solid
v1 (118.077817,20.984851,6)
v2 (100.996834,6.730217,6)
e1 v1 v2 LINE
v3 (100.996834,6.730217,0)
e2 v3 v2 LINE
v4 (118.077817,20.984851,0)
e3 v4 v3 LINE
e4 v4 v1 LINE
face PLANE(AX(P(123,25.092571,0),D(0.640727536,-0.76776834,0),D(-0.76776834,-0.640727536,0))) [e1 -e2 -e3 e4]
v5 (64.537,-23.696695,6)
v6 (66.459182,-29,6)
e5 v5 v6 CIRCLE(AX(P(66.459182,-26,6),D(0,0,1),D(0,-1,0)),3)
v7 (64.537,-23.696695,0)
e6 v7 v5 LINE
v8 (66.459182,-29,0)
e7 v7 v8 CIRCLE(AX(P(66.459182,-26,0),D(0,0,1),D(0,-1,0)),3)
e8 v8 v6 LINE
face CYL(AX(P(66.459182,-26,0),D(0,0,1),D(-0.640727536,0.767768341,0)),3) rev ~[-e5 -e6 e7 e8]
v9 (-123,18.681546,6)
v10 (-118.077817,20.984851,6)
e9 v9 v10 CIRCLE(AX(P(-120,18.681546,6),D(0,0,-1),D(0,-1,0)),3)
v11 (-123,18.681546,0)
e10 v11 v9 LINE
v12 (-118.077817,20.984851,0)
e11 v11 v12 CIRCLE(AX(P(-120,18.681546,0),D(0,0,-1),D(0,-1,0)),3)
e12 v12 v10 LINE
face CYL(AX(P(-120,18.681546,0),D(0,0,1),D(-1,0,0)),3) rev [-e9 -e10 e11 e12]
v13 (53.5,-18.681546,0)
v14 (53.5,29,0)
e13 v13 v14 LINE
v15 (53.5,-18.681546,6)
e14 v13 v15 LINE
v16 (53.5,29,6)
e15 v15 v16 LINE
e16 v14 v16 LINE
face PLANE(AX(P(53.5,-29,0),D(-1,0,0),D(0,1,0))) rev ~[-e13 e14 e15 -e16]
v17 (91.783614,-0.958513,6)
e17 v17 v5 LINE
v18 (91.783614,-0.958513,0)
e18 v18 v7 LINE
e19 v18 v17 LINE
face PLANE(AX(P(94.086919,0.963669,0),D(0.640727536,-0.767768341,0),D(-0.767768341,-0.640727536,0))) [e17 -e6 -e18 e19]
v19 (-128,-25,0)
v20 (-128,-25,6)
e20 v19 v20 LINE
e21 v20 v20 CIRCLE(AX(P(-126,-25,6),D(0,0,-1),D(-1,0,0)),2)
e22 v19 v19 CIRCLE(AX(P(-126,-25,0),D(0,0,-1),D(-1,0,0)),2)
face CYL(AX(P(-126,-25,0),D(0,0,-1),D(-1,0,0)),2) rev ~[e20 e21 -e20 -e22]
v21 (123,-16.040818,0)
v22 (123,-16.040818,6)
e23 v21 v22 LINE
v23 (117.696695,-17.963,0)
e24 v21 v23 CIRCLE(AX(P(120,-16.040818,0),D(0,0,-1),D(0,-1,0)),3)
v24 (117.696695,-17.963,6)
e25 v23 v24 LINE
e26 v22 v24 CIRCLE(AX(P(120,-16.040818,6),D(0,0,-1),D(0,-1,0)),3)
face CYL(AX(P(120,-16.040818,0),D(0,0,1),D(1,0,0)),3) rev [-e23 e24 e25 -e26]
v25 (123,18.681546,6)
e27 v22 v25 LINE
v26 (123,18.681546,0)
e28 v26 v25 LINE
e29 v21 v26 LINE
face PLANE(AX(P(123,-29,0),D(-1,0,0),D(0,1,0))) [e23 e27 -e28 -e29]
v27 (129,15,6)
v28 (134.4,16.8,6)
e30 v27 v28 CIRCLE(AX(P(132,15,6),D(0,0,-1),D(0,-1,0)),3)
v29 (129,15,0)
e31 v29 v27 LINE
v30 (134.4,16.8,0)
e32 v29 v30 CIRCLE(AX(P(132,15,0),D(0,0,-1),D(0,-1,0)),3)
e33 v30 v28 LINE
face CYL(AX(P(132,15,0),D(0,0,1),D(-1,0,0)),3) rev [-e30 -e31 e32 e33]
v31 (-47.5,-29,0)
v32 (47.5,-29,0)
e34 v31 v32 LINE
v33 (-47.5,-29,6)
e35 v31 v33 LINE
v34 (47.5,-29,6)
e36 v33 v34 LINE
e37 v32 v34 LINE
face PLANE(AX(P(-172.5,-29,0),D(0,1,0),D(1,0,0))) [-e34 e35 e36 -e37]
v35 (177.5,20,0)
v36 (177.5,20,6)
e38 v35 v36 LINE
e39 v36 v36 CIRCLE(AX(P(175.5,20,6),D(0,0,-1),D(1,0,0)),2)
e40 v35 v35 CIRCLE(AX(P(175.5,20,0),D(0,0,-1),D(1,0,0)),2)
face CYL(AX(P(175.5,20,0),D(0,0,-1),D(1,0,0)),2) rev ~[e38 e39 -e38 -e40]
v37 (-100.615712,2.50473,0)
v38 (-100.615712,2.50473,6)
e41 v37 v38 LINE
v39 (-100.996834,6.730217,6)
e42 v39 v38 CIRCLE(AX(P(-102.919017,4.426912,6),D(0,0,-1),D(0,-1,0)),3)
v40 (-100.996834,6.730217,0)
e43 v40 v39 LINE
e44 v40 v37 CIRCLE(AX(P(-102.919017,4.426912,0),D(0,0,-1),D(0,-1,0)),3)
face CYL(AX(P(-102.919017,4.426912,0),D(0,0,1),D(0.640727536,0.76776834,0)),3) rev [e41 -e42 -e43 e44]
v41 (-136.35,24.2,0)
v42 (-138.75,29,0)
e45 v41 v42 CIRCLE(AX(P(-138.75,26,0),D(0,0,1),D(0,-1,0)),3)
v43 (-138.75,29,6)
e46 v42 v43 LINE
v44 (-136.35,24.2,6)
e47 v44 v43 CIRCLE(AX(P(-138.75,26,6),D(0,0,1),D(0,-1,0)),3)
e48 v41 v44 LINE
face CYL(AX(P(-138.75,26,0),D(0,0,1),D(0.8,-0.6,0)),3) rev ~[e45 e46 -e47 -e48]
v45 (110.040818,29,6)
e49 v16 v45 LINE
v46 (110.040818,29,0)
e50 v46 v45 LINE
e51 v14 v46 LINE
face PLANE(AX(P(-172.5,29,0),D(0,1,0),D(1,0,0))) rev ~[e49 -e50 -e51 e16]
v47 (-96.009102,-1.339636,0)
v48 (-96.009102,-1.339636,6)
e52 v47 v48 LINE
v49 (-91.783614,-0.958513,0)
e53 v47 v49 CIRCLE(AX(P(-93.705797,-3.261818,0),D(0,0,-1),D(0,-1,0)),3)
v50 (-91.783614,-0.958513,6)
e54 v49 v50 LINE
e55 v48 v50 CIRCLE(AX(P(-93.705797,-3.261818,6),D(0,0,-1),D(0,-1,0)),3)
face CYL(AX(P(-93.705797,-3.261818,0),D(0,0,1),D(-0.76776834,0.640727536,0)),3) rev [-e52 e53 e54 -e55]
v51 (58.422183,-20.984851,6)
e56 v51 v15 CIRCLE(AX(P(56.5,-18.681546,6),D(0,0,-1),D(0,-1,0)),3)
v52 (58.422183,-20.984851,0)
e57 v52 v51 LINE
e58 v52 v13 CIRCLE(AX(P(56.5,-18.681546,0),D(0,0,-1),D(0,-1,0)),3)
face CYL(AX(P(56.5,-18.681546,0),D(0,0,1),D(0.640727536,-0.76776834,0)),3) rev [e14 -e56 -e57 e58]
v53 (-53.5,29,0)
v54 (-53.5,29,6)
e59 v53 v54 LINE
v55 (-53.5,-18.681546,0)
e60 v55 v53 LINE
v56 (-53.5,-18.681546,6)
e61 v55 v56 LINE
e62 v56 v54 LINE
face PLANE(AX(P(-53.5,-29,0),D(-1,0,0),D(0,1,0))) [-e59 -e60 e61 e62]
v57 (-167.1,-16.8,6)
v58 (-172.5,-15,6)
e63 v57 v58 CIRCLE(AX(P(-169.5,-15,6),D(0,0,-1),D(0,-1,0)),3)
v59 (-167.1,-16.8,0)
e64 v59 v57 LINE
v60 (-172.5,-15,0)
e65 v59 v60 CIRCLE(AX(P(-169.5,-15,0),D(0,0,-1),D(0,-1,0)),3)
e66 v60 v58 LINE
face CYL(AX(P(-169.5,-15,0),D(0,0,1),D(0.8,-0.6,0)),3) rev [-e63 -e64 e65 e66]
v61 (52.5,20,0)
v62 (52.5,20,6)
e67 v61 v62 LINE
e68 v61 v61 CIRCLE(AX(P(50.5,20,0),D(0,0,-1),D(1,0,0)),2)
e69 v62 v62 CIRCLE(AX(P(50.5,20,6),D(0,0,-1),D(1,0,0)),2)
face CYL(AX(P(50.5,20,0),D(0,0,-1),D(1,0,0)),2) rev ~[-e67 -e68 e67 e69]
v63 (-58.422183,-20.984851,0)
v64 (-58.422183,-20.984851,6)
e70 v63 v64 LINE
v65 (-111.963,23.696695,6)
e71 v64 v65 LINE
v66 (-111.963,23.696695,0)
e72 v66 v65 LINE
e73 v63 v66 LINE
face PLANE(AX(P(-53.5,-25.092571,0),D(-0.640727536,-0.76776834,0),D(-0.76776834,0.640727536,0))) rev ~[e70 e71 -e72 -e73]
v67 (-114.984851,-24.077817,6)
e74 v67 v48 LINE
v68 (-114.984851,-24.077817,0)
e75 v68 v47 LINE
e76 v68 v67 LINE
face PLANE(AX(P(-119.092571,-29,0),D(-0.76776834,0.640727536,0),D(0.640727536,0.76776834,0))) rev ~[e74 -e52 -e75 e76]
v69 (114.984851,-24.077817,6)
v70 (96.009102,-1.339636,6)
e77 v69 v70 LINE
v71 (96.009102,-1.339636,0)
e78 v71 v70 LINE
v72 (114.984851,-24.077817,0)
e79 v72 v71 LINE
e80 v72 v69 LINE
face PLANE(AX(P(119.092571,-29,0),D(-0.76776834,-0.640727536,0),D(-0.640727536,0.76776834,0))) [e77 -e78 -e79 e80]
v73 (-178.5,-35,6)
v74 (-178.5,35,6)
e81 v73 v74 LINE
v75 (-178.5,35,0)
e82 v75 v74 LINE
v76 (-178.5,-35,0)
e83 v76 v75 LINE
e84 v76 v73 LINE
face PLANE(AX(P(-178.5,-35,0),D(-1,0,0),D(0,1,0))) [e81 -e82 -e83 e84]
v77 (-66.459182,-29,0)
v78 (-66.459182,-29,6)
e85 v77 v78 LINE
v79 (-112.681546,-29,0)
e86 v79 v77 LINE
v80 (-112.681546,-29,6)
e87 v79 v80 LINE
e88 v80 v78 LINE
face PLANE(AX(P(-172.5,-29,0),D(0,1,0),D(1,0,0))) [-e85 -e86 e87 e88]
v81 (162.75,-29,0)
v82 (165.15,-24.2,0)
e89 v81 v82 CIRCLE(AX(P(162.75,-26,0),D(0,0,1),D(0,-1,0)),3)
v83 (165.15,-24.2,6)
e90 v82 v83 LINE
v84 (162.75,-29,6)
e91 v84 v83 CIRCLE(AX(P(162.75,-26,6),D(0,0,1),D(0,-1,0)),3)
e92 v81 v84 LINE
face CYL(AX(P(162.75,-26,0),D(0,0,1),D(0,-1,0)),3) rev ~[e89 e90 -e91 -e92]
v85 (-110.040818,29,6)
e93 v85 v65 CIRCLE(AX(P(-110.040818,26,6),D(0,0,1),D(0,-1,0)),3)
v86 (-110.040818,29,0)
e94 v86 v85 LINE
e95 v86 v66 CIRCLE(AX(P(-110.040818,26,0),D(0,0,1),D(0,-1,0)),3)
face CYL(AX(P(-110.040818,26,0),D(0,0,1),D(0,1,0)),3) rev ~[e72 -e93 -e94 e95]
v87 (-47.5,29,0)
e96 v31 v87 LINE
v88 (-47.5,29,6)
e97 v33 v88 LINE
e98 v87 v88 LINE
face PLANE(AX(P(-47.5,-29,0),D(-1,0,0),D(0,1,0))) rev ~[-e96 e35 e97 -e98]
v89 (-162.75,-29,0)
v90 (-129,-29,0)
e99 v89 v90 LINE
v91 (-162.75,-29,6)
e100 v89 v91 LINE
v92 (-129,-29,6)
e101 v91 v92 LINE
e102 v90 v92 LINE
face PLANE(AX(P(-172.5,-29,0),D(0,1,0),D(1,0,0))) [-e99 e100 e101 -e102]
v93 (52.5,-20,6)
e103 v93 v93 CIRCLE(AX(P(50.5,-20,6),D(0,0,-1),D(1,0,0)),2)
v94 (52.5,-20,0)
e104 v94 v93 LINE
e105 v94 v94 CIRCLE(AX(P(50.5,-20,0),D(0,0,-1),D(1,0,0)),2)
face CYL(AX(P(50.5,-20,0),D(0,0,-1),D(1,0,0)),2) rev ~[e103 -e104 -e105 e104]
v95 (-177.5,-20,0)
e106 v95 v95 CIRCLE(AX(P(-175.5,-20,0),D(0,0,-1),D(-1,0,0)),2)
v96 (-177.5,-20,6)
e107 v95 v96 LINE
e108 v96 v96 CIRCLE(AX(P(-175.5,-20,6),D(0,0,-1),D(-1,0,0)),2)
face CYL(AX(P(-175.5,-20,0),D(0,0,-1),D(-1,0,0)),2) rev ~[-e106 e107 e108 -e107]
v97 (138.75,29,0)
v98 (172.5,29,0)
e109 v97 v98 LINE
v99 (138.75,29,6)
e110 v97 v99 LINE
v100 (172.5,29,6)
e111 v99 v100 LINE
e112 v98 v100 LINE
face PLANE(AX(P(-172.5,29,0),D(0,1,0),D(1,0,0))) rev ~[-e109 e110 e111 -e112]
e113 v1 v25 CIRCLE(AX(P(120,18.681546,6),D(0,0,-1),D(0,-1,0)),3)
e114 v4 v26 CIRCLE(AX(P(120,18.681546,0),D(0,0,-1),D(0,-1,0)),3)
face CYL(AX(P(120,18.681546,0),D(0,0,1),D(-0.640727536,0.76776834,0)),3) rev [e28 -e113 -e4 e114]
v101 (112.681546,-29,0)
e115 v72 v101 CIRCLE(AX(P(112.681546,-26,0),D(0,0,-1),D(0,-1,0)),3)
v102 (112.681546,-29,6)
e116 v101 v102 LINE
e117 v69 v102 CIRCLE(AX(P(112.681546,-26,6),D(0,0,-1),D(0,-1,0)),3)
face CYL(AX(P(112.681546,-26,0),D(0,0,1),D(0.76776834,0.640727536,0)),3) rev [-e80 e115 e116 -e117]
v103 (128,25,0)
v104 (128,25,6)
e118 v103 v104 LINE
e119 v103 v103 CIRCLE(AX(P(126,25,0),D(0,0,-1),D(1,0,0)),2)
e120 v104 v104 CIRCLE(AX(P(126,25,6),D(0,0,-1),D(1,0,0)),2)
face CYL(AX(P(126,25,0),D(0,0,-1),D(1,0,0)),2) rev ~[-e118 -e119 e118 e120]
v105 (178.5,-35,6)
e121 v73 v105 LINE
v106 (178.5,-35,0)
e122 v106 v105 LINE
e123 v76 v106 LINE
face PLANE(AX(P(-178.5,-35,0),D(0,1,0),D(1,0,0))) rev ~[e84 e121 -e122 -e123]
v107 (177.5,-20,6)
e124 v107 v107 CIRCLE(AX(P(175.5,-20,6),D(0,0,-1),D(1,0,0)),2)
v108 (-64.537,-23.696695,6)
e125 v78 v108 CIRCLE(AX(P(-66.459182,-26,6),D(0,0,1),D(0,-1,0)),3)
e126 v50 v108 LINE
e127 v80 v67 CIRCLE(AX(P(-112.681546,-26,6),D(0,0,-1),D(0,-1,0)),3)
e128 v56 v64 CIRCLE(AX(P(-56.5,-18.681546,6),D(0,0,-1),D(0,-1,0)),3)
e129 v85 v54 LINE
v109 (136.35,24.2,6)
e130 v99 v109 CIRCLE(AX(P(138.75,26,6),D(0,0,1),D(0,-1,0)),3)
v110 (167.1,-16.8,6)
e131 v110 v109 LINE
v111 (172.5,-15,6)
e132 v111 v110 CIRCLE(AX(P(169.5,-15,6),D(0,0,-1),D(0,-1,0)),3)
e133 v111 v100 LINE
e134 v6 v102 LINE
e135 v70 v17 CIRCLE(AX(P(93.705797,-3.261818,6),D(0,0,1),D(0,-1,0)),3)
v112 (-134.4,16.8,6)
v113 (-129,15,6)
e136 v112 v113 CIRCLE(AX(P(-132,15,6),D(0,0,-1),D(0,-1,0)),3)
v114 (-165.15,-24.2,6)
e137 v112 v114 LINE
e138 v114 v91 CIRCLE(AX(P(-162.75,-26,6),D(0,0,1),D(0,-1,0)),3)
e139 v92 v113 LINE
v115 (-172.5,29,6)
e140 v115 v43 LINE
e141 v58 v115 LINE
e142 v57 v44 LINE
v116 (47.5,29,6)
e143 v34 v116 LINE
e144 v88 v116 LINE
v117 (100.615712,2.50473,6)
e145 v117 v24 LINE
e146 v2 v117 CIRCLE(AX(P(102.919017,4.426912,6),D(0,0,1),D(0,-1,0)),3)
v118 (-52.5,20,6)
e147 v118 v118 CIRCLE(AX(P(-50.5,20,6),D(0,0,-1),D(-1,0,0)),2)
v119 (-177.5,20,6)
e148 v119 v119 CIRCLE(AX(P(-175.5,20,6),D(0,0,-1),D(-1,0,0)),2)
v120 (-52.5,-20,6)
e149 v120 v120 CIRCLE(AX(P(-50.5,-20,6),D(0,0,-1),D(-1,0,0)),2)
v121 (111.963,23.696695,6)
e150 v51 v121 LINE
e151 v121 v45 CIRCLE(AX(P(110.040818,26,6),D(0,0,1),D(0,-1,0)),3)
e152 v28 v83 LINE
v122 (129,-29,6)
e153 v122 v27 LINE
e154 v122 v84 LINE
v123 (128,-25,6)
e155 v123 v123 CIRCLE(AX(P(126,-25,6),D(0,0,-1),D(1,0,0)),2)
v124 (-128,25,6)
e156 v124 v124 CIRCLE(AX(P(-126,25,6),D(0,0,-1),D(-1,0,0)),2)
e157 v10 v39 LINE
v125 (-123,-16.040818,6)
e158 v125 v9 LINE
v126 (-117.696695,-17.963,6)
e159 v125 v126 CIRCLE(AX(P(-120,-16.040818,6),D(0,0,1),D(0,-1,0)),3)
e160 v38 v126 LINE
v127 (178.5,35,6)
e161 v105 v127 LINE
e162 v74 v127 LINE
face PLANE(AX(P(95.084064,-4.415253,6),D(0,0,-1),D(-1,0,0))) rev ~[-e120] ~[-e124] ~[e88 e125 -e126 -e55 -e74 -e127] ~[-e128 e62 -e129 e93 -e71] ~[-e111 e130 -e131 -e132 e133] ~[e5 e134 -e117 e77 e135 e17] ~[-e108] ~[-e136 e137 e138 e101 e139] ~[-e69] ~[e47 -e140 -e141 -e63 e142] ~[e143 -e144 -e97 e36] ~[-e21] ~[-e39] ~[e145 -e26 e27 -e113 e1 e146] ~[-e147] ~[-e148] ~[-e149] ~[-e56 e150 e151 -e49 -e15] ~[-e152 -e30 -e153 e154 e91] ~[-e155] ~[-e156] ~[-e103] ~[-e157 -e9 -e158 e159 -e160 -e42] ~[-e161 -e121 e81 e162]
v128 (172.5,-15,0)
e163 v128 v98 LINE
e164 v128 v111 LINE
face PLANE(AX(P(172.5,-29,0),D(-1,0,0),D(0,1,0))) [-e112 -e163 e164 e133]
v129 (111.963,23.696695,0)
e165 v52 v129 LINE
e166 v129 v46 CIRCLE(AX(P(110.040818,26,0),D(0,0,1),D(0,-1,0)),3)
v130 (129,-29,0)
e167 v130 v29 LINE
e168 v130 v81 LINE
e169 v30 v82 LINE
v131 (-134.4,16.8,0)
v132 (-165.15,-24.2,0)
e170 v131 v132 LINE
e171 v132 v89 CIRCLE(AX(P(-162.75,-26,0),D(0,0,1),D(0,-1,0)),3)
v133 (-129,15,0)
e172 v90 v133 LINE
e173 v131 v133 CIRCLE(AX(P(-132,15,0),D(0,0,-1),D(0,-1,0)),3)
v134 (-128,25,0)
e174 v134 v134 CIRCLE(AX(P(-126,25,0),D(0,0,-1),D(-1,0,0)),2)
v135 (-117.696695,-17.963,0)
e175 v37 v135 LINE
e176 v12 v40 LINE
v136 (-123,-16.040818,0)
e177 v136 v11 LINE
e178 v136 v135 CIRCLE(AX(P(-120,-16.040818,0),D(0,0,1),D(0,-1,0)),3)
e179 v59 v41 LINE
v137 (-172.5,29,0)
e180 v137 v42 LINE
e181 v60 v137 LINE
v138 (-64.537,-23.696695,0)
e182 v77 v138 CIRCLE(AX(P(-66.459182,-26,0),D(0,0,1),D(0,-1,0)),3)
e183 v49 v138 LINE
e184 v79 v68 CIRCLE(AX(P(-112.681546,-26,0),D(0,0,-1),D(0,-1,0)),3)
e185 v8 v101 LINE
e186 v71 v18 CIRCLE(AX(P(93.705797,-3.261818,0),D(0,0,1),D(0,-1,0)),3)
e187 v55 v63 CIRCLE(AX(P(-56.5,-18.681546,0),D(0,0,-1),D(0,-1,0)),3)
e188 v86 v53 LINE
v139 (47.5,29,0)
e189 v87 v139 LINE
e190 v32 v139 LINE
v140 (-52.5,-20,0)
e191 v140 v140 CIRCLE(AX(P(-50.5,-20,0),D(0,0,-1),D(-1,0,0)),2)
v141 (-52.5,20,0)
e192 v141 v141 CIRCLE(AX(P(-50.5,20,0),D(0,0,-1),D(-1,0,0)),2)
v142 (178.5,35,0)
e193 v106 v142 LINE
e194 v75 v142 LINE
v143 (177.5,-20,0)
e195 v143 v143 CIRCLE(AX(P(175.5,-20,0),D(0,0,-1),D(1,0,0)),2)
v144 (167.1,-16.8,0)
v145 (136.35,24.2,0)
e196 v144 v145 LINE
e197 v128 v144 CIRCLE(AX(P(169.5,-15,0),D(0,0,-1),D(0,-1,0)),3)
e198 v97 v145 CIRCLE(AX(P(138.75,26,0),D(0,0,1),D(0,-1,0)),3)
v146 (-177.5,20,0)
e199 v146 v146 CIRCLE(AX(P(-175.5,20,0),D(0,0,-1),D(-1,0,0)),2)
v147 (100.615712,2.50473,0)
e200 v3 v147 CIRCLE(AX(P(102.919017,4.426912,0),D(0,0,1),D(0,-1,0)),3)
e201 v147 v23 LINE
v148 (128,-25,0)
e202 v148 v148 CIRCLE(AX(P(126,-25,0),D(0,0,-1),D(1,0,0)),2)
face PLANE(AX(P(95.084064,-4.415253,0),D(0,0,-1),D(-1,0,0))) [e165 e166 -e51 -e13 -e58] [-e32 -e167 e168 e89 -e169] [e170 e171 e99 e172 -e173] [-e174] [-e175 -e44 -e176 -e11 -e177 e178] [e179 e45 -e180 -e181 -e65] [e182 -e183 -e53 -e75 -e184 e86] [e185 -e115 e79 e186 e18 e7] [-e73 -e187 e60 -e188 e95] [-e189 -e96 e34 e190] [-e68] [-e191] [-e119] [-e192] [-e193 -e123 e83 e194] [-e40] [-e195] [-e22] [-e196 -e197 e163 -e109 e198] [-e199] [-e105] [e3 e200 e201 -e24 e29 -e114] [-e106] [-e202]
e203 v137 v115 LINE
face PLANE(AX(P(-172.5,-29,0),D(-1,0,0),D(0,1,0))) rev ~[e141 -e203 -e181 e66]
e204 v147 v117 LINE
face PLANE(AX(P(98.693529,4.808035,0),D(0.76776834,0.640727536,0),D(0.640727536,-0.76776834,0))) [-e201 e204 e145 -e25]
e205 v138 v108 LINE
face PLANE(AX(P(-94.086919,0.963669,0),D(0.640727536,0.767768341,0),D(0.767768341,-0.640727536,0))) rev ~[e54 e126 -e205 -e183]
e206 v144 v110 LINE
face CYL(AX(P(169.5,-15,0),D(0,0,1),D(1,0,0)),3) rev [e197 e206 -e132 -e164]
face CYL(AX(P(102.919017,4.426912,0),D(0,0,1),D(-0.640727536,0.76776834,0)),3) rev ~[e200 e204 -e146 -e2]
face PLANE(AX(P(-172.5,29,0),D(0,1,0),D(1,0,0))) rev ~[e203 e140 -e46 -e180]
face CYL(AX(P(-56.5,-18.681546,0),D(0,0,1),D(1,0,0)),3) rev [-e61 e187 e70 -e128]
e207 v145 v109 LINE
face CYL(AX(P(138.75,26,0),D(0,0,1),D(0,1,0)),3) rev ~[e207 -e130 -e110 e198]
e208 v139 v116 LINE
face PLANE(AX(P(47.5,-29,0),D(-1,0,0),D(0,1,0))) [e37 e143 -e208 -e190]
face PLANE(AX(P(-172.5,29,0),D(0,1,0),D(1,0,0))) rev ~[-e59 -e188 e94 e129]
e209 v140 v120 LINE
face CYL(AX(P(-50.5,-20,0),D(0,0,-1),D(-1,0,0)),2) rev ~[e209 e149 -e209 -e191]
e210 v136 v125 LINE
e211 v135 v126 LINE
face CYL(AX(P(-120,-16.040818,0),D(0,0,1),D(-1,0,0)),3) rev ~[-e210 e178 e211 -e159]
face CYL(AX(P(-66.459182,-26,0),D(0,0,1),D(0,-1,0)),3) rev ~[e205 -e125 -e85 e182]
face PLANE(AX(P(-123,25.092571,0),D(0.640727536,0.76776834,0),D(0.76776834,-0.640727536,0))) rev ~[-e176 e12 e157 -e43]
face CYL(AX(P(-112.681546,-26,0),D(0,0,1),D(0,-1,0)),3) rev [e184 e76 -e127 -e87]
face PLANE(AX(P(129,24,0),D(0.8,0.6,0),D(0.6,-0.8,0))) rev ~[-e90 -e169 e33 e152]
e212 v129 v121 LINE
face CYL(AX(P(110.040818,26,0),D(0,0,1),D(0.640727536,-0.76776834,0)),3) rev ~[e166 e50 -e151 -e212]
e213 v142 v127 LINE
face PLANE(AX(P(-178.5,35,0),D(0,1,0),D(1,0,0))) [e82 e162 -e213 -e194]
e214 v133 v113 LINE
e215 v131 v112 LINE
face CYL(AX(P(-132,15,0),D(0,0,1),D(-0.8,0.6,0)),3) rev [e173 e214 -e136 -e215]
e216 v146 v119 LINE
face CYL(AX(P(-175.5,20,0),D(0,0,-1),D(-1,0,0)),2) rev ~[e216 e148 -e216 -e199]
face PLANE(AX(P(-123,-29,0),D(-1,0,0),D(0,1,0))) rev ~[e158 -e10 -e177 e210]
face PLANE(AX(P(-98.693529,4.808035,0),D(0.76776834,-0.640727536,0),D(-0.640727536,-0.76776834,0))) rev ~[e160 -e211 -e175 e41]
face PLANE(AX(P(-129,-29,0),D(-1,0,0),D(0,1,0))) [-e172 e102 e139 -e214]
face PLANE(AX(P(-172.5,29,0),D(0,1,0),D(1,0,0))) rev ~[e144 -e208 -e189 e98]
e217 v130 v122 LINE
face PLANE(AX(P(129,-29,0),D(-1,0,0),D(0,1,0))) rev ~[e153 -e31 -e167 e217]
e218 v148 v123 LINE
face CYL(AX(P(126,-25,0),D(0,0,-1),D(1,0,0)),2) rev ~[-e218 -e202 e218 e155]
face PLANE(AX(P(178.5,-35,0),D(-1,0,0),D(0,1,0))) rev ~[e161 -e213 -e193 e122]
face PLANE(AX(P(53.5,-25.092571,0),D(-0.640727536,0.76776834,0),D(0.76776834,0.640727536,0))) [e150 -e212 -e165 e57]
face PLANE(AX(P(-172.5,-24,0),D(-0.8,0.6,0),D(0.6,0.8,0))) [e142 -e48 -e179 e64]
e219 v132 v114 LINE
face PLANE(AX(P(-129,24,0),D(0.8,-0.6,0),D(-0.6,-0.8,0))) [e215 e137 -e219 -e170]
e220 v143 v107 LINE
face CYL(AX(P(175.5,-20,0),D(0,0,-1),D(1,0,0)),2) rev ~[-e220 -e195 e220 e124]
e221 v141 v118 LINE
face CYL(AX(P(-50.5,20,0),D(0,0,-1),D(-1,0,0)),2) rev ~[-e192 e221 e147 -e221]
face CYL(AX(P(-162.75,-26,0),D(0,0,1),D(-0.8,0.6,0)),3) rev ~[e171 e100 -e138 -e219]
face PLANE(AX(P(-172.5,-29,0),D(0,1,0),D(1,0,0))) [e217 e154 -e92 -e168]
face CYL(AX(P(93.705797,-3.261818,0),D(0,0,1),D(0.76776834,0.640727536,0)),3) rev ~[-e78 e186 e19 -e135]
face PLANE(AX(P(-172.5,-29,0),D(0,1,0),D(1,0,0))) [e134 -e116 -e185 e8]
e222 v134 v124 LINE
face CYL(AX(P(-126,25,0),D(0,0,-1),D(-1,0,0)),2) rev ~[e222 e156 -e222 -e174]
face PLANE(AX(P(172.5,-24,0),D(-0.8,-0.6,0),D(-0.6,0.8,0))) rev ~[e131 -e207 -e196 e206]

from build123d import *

# Parameters (mm, degrees)
SKETCH_2_W          = 357
SKETCH_2_H          = 70
SKETCH_2_W_2        = 345
SKETCH_2_H_2        = 58
EXTRUDE_1_DEPTH     = 6
SKETCH_3_W          = 6
SKETCH_3_H          = 58
EXTRUDE_2_DEPTH     = 6
EXTRUDE_3_DEPTH     = 6
FILLET_1_R          = 3
SKETCH_5_W          = 6
SKETCH_5_H          = 58
EXTRUDE_4_DEPTH     = 6
EXTRUDE_5_DEPTH     = 6
FILLET_2_R          = 3
SKETCH_7_R          = 2
CUT_EXTRUDE_1_DEPTH = 6


with BuildPart() as part:
    # 草图2 → 凸台-拉伸1 (new body)
    with BuildSketch(Plane.XY):
        Rectangle(SKETCH_2_W, SKETCH_2_H)
        Rectangle(SKETCH_2_W_2, SKETCH_2_H_2, mode=Mode.SUBTRACT)
    extrude(amount=EXTRUDE_1_DEPTH)

    # 草图3 → 凸台-拉伸2 (add)
    with BuildSketch(Plane.XY):
        with Locations((-126, 0)):
            Rectangle(SKETCH_3_W, SKETCH_3_H)
        with Locations((126, 0)):
            Rectangle(SKETCH_3_W, SKETCH_3_H)
    extrude(amount=EXTRUDE_2_DEPTH)

    # 草图4 → 凸台-拉伸3 (add)
    with BuildSketch(Plane.XY):
        Polygon((-172.5, -29), (-172.5, -24), (-132.75, 29), (-129, 29), (-129, 24), (-168.75, -29), align=None)
        Polygon((129, 24), (168.75, -29), (172.5, -29), (172.5, -24), (132.75, 29), (129, 29), align=None)
    extrude(amount=EXTRUDE_3_DEPTH)

    # 圆角1
    fillet_1_edges = [part.edges().sort_by_distance(p)[0] for p in [
        (-168.75, -29, 3),
        (-129, 24, 3),
        (-132.75, 29, 3),
        (-172.5, -24, 3),
        (129, 24, 3),
        (168.75, -29, 3),
        (172.5, -24, 3),
        (132.75, 29, 3),
    ]]
    fillet(fillet_1_edges, radius=FILLET_1_R)

    # 草图5 → 凸台-拉伸4 (add)
    with BuildSketch(Plane.XY):
        with Locations((50.5, 0)):
            Rectangle(SKETCH_5_W, SKETCH_5_H)
        with Locations((-50.5, 0)):
            Rectangle(SKETCH_5_W, SKETCH_5_H)
    extrude(amount=EXTRUDE_4_DEPTH)

    # 草图6 → 凸台-拉伸5 (add)
    with BuildSketch(Plane.XY):
        Polygon((123, 29), (123, 25.092571363), (98.693529244, 4.808034617), (123, -24.317822582), (123, -29), (119.092571363, -29), (94.086919201, 0.963669401), (58.182177418, -29), (53.5, -29), (53.5, -25.092571363), (118.317822582, 29), align=None)
        Polygon((-119.092571363, -29), (-94.086919201, 0.963669401), (-58.182177418, -29), (-53.5, -29), (-53.5, -25.092571363), (-118.317822582, 29), (-123, 29), (-123, 25.092571363), (-98.693529244, 4.808034617), (-123, -24.317822582), (-123, -29), align=None)
    extrude(amount=EXTRUDE_5_DEPTH)

    # 圆角2
    fillet_2_edges = [part.edges().sort_by_distance(p)[0] for p in [
        (118.317822582, 29, 3),
        (53.5, -25.092571363, 3),
        (58.182177418, -29, 3),
        (94.086919201, 0.963669401, 3),
        (119.092571363, -29, 3),
        (123, -24.317822582, 3),
        (98.693529244, 4.808034617, 3),
        (123, 25.092571363, 3),
        (-119.092571363, -29, 3),
        (-94.086919201, 0.963669401, 3),
        (-58.182177418, -29, 3),
        (-53.5, -25.092571363, 3),
        (-118.317822582, 29, 3),
        (-123, 25.092571363, 3),
        (-98.693529244, 4.808034617, 3),
        (-123, -24.317822582, 3),
    ]]
    fillet(fillet_2_edges, radius=FILLET_2_R)

    # 草图7 → 切除-拉伸1 (cut)
    with BuildSketch(Plane(origin=(0, 0, 0), x_dir=(-1, 0, 0), z_dir=(0, 0, -1))):
        with Locations((175.5, 20)):
            Circle(SKETCH_7_R)
        with Locations((175.5, -20)):
            Circle(SKETCH_7_R)
        with Locations((50.5, 20)):
            Circle(SKETCH_7_R)
        with Locations((50.5, -20)):
            Circle(SKETCH_7_R)
        with Locations(Location((-175.5, -20, 0), (0, 0, 180))):
            Circle(SKETCH_7_R)
        with Locations(Location((-175.5, 20, 0), (0, 0, 180))):
            Circle(SKETCH_7_R)
        with Locations(Location((-50.5, -20, 0), (0, 0, 180))):
            Circle(SKETCH_7_R)
        with Locations(Location((-50.5, 20, 0), (0, 0, 180))):
            Circle(SKETCH_7_R)
        with Locations((126, 25)):
            Circle(SKETCH_7_R)
        with Locations((126, -25)):
            Circle(SKETCH_7_R)
        with Locations(Location((-126, -25, 0), (0, 0, 180))):
            Circle(SKETCH_7_R)
        with Locations(Location((-126, 25, 0), (0, 0, 180))):
            Circle(SKETCH_7_R)
    extrude(amount=-CUT_EXTRUDE_1_DEPTH, mode=Mode.SUBTRACT)


solid = part.part
